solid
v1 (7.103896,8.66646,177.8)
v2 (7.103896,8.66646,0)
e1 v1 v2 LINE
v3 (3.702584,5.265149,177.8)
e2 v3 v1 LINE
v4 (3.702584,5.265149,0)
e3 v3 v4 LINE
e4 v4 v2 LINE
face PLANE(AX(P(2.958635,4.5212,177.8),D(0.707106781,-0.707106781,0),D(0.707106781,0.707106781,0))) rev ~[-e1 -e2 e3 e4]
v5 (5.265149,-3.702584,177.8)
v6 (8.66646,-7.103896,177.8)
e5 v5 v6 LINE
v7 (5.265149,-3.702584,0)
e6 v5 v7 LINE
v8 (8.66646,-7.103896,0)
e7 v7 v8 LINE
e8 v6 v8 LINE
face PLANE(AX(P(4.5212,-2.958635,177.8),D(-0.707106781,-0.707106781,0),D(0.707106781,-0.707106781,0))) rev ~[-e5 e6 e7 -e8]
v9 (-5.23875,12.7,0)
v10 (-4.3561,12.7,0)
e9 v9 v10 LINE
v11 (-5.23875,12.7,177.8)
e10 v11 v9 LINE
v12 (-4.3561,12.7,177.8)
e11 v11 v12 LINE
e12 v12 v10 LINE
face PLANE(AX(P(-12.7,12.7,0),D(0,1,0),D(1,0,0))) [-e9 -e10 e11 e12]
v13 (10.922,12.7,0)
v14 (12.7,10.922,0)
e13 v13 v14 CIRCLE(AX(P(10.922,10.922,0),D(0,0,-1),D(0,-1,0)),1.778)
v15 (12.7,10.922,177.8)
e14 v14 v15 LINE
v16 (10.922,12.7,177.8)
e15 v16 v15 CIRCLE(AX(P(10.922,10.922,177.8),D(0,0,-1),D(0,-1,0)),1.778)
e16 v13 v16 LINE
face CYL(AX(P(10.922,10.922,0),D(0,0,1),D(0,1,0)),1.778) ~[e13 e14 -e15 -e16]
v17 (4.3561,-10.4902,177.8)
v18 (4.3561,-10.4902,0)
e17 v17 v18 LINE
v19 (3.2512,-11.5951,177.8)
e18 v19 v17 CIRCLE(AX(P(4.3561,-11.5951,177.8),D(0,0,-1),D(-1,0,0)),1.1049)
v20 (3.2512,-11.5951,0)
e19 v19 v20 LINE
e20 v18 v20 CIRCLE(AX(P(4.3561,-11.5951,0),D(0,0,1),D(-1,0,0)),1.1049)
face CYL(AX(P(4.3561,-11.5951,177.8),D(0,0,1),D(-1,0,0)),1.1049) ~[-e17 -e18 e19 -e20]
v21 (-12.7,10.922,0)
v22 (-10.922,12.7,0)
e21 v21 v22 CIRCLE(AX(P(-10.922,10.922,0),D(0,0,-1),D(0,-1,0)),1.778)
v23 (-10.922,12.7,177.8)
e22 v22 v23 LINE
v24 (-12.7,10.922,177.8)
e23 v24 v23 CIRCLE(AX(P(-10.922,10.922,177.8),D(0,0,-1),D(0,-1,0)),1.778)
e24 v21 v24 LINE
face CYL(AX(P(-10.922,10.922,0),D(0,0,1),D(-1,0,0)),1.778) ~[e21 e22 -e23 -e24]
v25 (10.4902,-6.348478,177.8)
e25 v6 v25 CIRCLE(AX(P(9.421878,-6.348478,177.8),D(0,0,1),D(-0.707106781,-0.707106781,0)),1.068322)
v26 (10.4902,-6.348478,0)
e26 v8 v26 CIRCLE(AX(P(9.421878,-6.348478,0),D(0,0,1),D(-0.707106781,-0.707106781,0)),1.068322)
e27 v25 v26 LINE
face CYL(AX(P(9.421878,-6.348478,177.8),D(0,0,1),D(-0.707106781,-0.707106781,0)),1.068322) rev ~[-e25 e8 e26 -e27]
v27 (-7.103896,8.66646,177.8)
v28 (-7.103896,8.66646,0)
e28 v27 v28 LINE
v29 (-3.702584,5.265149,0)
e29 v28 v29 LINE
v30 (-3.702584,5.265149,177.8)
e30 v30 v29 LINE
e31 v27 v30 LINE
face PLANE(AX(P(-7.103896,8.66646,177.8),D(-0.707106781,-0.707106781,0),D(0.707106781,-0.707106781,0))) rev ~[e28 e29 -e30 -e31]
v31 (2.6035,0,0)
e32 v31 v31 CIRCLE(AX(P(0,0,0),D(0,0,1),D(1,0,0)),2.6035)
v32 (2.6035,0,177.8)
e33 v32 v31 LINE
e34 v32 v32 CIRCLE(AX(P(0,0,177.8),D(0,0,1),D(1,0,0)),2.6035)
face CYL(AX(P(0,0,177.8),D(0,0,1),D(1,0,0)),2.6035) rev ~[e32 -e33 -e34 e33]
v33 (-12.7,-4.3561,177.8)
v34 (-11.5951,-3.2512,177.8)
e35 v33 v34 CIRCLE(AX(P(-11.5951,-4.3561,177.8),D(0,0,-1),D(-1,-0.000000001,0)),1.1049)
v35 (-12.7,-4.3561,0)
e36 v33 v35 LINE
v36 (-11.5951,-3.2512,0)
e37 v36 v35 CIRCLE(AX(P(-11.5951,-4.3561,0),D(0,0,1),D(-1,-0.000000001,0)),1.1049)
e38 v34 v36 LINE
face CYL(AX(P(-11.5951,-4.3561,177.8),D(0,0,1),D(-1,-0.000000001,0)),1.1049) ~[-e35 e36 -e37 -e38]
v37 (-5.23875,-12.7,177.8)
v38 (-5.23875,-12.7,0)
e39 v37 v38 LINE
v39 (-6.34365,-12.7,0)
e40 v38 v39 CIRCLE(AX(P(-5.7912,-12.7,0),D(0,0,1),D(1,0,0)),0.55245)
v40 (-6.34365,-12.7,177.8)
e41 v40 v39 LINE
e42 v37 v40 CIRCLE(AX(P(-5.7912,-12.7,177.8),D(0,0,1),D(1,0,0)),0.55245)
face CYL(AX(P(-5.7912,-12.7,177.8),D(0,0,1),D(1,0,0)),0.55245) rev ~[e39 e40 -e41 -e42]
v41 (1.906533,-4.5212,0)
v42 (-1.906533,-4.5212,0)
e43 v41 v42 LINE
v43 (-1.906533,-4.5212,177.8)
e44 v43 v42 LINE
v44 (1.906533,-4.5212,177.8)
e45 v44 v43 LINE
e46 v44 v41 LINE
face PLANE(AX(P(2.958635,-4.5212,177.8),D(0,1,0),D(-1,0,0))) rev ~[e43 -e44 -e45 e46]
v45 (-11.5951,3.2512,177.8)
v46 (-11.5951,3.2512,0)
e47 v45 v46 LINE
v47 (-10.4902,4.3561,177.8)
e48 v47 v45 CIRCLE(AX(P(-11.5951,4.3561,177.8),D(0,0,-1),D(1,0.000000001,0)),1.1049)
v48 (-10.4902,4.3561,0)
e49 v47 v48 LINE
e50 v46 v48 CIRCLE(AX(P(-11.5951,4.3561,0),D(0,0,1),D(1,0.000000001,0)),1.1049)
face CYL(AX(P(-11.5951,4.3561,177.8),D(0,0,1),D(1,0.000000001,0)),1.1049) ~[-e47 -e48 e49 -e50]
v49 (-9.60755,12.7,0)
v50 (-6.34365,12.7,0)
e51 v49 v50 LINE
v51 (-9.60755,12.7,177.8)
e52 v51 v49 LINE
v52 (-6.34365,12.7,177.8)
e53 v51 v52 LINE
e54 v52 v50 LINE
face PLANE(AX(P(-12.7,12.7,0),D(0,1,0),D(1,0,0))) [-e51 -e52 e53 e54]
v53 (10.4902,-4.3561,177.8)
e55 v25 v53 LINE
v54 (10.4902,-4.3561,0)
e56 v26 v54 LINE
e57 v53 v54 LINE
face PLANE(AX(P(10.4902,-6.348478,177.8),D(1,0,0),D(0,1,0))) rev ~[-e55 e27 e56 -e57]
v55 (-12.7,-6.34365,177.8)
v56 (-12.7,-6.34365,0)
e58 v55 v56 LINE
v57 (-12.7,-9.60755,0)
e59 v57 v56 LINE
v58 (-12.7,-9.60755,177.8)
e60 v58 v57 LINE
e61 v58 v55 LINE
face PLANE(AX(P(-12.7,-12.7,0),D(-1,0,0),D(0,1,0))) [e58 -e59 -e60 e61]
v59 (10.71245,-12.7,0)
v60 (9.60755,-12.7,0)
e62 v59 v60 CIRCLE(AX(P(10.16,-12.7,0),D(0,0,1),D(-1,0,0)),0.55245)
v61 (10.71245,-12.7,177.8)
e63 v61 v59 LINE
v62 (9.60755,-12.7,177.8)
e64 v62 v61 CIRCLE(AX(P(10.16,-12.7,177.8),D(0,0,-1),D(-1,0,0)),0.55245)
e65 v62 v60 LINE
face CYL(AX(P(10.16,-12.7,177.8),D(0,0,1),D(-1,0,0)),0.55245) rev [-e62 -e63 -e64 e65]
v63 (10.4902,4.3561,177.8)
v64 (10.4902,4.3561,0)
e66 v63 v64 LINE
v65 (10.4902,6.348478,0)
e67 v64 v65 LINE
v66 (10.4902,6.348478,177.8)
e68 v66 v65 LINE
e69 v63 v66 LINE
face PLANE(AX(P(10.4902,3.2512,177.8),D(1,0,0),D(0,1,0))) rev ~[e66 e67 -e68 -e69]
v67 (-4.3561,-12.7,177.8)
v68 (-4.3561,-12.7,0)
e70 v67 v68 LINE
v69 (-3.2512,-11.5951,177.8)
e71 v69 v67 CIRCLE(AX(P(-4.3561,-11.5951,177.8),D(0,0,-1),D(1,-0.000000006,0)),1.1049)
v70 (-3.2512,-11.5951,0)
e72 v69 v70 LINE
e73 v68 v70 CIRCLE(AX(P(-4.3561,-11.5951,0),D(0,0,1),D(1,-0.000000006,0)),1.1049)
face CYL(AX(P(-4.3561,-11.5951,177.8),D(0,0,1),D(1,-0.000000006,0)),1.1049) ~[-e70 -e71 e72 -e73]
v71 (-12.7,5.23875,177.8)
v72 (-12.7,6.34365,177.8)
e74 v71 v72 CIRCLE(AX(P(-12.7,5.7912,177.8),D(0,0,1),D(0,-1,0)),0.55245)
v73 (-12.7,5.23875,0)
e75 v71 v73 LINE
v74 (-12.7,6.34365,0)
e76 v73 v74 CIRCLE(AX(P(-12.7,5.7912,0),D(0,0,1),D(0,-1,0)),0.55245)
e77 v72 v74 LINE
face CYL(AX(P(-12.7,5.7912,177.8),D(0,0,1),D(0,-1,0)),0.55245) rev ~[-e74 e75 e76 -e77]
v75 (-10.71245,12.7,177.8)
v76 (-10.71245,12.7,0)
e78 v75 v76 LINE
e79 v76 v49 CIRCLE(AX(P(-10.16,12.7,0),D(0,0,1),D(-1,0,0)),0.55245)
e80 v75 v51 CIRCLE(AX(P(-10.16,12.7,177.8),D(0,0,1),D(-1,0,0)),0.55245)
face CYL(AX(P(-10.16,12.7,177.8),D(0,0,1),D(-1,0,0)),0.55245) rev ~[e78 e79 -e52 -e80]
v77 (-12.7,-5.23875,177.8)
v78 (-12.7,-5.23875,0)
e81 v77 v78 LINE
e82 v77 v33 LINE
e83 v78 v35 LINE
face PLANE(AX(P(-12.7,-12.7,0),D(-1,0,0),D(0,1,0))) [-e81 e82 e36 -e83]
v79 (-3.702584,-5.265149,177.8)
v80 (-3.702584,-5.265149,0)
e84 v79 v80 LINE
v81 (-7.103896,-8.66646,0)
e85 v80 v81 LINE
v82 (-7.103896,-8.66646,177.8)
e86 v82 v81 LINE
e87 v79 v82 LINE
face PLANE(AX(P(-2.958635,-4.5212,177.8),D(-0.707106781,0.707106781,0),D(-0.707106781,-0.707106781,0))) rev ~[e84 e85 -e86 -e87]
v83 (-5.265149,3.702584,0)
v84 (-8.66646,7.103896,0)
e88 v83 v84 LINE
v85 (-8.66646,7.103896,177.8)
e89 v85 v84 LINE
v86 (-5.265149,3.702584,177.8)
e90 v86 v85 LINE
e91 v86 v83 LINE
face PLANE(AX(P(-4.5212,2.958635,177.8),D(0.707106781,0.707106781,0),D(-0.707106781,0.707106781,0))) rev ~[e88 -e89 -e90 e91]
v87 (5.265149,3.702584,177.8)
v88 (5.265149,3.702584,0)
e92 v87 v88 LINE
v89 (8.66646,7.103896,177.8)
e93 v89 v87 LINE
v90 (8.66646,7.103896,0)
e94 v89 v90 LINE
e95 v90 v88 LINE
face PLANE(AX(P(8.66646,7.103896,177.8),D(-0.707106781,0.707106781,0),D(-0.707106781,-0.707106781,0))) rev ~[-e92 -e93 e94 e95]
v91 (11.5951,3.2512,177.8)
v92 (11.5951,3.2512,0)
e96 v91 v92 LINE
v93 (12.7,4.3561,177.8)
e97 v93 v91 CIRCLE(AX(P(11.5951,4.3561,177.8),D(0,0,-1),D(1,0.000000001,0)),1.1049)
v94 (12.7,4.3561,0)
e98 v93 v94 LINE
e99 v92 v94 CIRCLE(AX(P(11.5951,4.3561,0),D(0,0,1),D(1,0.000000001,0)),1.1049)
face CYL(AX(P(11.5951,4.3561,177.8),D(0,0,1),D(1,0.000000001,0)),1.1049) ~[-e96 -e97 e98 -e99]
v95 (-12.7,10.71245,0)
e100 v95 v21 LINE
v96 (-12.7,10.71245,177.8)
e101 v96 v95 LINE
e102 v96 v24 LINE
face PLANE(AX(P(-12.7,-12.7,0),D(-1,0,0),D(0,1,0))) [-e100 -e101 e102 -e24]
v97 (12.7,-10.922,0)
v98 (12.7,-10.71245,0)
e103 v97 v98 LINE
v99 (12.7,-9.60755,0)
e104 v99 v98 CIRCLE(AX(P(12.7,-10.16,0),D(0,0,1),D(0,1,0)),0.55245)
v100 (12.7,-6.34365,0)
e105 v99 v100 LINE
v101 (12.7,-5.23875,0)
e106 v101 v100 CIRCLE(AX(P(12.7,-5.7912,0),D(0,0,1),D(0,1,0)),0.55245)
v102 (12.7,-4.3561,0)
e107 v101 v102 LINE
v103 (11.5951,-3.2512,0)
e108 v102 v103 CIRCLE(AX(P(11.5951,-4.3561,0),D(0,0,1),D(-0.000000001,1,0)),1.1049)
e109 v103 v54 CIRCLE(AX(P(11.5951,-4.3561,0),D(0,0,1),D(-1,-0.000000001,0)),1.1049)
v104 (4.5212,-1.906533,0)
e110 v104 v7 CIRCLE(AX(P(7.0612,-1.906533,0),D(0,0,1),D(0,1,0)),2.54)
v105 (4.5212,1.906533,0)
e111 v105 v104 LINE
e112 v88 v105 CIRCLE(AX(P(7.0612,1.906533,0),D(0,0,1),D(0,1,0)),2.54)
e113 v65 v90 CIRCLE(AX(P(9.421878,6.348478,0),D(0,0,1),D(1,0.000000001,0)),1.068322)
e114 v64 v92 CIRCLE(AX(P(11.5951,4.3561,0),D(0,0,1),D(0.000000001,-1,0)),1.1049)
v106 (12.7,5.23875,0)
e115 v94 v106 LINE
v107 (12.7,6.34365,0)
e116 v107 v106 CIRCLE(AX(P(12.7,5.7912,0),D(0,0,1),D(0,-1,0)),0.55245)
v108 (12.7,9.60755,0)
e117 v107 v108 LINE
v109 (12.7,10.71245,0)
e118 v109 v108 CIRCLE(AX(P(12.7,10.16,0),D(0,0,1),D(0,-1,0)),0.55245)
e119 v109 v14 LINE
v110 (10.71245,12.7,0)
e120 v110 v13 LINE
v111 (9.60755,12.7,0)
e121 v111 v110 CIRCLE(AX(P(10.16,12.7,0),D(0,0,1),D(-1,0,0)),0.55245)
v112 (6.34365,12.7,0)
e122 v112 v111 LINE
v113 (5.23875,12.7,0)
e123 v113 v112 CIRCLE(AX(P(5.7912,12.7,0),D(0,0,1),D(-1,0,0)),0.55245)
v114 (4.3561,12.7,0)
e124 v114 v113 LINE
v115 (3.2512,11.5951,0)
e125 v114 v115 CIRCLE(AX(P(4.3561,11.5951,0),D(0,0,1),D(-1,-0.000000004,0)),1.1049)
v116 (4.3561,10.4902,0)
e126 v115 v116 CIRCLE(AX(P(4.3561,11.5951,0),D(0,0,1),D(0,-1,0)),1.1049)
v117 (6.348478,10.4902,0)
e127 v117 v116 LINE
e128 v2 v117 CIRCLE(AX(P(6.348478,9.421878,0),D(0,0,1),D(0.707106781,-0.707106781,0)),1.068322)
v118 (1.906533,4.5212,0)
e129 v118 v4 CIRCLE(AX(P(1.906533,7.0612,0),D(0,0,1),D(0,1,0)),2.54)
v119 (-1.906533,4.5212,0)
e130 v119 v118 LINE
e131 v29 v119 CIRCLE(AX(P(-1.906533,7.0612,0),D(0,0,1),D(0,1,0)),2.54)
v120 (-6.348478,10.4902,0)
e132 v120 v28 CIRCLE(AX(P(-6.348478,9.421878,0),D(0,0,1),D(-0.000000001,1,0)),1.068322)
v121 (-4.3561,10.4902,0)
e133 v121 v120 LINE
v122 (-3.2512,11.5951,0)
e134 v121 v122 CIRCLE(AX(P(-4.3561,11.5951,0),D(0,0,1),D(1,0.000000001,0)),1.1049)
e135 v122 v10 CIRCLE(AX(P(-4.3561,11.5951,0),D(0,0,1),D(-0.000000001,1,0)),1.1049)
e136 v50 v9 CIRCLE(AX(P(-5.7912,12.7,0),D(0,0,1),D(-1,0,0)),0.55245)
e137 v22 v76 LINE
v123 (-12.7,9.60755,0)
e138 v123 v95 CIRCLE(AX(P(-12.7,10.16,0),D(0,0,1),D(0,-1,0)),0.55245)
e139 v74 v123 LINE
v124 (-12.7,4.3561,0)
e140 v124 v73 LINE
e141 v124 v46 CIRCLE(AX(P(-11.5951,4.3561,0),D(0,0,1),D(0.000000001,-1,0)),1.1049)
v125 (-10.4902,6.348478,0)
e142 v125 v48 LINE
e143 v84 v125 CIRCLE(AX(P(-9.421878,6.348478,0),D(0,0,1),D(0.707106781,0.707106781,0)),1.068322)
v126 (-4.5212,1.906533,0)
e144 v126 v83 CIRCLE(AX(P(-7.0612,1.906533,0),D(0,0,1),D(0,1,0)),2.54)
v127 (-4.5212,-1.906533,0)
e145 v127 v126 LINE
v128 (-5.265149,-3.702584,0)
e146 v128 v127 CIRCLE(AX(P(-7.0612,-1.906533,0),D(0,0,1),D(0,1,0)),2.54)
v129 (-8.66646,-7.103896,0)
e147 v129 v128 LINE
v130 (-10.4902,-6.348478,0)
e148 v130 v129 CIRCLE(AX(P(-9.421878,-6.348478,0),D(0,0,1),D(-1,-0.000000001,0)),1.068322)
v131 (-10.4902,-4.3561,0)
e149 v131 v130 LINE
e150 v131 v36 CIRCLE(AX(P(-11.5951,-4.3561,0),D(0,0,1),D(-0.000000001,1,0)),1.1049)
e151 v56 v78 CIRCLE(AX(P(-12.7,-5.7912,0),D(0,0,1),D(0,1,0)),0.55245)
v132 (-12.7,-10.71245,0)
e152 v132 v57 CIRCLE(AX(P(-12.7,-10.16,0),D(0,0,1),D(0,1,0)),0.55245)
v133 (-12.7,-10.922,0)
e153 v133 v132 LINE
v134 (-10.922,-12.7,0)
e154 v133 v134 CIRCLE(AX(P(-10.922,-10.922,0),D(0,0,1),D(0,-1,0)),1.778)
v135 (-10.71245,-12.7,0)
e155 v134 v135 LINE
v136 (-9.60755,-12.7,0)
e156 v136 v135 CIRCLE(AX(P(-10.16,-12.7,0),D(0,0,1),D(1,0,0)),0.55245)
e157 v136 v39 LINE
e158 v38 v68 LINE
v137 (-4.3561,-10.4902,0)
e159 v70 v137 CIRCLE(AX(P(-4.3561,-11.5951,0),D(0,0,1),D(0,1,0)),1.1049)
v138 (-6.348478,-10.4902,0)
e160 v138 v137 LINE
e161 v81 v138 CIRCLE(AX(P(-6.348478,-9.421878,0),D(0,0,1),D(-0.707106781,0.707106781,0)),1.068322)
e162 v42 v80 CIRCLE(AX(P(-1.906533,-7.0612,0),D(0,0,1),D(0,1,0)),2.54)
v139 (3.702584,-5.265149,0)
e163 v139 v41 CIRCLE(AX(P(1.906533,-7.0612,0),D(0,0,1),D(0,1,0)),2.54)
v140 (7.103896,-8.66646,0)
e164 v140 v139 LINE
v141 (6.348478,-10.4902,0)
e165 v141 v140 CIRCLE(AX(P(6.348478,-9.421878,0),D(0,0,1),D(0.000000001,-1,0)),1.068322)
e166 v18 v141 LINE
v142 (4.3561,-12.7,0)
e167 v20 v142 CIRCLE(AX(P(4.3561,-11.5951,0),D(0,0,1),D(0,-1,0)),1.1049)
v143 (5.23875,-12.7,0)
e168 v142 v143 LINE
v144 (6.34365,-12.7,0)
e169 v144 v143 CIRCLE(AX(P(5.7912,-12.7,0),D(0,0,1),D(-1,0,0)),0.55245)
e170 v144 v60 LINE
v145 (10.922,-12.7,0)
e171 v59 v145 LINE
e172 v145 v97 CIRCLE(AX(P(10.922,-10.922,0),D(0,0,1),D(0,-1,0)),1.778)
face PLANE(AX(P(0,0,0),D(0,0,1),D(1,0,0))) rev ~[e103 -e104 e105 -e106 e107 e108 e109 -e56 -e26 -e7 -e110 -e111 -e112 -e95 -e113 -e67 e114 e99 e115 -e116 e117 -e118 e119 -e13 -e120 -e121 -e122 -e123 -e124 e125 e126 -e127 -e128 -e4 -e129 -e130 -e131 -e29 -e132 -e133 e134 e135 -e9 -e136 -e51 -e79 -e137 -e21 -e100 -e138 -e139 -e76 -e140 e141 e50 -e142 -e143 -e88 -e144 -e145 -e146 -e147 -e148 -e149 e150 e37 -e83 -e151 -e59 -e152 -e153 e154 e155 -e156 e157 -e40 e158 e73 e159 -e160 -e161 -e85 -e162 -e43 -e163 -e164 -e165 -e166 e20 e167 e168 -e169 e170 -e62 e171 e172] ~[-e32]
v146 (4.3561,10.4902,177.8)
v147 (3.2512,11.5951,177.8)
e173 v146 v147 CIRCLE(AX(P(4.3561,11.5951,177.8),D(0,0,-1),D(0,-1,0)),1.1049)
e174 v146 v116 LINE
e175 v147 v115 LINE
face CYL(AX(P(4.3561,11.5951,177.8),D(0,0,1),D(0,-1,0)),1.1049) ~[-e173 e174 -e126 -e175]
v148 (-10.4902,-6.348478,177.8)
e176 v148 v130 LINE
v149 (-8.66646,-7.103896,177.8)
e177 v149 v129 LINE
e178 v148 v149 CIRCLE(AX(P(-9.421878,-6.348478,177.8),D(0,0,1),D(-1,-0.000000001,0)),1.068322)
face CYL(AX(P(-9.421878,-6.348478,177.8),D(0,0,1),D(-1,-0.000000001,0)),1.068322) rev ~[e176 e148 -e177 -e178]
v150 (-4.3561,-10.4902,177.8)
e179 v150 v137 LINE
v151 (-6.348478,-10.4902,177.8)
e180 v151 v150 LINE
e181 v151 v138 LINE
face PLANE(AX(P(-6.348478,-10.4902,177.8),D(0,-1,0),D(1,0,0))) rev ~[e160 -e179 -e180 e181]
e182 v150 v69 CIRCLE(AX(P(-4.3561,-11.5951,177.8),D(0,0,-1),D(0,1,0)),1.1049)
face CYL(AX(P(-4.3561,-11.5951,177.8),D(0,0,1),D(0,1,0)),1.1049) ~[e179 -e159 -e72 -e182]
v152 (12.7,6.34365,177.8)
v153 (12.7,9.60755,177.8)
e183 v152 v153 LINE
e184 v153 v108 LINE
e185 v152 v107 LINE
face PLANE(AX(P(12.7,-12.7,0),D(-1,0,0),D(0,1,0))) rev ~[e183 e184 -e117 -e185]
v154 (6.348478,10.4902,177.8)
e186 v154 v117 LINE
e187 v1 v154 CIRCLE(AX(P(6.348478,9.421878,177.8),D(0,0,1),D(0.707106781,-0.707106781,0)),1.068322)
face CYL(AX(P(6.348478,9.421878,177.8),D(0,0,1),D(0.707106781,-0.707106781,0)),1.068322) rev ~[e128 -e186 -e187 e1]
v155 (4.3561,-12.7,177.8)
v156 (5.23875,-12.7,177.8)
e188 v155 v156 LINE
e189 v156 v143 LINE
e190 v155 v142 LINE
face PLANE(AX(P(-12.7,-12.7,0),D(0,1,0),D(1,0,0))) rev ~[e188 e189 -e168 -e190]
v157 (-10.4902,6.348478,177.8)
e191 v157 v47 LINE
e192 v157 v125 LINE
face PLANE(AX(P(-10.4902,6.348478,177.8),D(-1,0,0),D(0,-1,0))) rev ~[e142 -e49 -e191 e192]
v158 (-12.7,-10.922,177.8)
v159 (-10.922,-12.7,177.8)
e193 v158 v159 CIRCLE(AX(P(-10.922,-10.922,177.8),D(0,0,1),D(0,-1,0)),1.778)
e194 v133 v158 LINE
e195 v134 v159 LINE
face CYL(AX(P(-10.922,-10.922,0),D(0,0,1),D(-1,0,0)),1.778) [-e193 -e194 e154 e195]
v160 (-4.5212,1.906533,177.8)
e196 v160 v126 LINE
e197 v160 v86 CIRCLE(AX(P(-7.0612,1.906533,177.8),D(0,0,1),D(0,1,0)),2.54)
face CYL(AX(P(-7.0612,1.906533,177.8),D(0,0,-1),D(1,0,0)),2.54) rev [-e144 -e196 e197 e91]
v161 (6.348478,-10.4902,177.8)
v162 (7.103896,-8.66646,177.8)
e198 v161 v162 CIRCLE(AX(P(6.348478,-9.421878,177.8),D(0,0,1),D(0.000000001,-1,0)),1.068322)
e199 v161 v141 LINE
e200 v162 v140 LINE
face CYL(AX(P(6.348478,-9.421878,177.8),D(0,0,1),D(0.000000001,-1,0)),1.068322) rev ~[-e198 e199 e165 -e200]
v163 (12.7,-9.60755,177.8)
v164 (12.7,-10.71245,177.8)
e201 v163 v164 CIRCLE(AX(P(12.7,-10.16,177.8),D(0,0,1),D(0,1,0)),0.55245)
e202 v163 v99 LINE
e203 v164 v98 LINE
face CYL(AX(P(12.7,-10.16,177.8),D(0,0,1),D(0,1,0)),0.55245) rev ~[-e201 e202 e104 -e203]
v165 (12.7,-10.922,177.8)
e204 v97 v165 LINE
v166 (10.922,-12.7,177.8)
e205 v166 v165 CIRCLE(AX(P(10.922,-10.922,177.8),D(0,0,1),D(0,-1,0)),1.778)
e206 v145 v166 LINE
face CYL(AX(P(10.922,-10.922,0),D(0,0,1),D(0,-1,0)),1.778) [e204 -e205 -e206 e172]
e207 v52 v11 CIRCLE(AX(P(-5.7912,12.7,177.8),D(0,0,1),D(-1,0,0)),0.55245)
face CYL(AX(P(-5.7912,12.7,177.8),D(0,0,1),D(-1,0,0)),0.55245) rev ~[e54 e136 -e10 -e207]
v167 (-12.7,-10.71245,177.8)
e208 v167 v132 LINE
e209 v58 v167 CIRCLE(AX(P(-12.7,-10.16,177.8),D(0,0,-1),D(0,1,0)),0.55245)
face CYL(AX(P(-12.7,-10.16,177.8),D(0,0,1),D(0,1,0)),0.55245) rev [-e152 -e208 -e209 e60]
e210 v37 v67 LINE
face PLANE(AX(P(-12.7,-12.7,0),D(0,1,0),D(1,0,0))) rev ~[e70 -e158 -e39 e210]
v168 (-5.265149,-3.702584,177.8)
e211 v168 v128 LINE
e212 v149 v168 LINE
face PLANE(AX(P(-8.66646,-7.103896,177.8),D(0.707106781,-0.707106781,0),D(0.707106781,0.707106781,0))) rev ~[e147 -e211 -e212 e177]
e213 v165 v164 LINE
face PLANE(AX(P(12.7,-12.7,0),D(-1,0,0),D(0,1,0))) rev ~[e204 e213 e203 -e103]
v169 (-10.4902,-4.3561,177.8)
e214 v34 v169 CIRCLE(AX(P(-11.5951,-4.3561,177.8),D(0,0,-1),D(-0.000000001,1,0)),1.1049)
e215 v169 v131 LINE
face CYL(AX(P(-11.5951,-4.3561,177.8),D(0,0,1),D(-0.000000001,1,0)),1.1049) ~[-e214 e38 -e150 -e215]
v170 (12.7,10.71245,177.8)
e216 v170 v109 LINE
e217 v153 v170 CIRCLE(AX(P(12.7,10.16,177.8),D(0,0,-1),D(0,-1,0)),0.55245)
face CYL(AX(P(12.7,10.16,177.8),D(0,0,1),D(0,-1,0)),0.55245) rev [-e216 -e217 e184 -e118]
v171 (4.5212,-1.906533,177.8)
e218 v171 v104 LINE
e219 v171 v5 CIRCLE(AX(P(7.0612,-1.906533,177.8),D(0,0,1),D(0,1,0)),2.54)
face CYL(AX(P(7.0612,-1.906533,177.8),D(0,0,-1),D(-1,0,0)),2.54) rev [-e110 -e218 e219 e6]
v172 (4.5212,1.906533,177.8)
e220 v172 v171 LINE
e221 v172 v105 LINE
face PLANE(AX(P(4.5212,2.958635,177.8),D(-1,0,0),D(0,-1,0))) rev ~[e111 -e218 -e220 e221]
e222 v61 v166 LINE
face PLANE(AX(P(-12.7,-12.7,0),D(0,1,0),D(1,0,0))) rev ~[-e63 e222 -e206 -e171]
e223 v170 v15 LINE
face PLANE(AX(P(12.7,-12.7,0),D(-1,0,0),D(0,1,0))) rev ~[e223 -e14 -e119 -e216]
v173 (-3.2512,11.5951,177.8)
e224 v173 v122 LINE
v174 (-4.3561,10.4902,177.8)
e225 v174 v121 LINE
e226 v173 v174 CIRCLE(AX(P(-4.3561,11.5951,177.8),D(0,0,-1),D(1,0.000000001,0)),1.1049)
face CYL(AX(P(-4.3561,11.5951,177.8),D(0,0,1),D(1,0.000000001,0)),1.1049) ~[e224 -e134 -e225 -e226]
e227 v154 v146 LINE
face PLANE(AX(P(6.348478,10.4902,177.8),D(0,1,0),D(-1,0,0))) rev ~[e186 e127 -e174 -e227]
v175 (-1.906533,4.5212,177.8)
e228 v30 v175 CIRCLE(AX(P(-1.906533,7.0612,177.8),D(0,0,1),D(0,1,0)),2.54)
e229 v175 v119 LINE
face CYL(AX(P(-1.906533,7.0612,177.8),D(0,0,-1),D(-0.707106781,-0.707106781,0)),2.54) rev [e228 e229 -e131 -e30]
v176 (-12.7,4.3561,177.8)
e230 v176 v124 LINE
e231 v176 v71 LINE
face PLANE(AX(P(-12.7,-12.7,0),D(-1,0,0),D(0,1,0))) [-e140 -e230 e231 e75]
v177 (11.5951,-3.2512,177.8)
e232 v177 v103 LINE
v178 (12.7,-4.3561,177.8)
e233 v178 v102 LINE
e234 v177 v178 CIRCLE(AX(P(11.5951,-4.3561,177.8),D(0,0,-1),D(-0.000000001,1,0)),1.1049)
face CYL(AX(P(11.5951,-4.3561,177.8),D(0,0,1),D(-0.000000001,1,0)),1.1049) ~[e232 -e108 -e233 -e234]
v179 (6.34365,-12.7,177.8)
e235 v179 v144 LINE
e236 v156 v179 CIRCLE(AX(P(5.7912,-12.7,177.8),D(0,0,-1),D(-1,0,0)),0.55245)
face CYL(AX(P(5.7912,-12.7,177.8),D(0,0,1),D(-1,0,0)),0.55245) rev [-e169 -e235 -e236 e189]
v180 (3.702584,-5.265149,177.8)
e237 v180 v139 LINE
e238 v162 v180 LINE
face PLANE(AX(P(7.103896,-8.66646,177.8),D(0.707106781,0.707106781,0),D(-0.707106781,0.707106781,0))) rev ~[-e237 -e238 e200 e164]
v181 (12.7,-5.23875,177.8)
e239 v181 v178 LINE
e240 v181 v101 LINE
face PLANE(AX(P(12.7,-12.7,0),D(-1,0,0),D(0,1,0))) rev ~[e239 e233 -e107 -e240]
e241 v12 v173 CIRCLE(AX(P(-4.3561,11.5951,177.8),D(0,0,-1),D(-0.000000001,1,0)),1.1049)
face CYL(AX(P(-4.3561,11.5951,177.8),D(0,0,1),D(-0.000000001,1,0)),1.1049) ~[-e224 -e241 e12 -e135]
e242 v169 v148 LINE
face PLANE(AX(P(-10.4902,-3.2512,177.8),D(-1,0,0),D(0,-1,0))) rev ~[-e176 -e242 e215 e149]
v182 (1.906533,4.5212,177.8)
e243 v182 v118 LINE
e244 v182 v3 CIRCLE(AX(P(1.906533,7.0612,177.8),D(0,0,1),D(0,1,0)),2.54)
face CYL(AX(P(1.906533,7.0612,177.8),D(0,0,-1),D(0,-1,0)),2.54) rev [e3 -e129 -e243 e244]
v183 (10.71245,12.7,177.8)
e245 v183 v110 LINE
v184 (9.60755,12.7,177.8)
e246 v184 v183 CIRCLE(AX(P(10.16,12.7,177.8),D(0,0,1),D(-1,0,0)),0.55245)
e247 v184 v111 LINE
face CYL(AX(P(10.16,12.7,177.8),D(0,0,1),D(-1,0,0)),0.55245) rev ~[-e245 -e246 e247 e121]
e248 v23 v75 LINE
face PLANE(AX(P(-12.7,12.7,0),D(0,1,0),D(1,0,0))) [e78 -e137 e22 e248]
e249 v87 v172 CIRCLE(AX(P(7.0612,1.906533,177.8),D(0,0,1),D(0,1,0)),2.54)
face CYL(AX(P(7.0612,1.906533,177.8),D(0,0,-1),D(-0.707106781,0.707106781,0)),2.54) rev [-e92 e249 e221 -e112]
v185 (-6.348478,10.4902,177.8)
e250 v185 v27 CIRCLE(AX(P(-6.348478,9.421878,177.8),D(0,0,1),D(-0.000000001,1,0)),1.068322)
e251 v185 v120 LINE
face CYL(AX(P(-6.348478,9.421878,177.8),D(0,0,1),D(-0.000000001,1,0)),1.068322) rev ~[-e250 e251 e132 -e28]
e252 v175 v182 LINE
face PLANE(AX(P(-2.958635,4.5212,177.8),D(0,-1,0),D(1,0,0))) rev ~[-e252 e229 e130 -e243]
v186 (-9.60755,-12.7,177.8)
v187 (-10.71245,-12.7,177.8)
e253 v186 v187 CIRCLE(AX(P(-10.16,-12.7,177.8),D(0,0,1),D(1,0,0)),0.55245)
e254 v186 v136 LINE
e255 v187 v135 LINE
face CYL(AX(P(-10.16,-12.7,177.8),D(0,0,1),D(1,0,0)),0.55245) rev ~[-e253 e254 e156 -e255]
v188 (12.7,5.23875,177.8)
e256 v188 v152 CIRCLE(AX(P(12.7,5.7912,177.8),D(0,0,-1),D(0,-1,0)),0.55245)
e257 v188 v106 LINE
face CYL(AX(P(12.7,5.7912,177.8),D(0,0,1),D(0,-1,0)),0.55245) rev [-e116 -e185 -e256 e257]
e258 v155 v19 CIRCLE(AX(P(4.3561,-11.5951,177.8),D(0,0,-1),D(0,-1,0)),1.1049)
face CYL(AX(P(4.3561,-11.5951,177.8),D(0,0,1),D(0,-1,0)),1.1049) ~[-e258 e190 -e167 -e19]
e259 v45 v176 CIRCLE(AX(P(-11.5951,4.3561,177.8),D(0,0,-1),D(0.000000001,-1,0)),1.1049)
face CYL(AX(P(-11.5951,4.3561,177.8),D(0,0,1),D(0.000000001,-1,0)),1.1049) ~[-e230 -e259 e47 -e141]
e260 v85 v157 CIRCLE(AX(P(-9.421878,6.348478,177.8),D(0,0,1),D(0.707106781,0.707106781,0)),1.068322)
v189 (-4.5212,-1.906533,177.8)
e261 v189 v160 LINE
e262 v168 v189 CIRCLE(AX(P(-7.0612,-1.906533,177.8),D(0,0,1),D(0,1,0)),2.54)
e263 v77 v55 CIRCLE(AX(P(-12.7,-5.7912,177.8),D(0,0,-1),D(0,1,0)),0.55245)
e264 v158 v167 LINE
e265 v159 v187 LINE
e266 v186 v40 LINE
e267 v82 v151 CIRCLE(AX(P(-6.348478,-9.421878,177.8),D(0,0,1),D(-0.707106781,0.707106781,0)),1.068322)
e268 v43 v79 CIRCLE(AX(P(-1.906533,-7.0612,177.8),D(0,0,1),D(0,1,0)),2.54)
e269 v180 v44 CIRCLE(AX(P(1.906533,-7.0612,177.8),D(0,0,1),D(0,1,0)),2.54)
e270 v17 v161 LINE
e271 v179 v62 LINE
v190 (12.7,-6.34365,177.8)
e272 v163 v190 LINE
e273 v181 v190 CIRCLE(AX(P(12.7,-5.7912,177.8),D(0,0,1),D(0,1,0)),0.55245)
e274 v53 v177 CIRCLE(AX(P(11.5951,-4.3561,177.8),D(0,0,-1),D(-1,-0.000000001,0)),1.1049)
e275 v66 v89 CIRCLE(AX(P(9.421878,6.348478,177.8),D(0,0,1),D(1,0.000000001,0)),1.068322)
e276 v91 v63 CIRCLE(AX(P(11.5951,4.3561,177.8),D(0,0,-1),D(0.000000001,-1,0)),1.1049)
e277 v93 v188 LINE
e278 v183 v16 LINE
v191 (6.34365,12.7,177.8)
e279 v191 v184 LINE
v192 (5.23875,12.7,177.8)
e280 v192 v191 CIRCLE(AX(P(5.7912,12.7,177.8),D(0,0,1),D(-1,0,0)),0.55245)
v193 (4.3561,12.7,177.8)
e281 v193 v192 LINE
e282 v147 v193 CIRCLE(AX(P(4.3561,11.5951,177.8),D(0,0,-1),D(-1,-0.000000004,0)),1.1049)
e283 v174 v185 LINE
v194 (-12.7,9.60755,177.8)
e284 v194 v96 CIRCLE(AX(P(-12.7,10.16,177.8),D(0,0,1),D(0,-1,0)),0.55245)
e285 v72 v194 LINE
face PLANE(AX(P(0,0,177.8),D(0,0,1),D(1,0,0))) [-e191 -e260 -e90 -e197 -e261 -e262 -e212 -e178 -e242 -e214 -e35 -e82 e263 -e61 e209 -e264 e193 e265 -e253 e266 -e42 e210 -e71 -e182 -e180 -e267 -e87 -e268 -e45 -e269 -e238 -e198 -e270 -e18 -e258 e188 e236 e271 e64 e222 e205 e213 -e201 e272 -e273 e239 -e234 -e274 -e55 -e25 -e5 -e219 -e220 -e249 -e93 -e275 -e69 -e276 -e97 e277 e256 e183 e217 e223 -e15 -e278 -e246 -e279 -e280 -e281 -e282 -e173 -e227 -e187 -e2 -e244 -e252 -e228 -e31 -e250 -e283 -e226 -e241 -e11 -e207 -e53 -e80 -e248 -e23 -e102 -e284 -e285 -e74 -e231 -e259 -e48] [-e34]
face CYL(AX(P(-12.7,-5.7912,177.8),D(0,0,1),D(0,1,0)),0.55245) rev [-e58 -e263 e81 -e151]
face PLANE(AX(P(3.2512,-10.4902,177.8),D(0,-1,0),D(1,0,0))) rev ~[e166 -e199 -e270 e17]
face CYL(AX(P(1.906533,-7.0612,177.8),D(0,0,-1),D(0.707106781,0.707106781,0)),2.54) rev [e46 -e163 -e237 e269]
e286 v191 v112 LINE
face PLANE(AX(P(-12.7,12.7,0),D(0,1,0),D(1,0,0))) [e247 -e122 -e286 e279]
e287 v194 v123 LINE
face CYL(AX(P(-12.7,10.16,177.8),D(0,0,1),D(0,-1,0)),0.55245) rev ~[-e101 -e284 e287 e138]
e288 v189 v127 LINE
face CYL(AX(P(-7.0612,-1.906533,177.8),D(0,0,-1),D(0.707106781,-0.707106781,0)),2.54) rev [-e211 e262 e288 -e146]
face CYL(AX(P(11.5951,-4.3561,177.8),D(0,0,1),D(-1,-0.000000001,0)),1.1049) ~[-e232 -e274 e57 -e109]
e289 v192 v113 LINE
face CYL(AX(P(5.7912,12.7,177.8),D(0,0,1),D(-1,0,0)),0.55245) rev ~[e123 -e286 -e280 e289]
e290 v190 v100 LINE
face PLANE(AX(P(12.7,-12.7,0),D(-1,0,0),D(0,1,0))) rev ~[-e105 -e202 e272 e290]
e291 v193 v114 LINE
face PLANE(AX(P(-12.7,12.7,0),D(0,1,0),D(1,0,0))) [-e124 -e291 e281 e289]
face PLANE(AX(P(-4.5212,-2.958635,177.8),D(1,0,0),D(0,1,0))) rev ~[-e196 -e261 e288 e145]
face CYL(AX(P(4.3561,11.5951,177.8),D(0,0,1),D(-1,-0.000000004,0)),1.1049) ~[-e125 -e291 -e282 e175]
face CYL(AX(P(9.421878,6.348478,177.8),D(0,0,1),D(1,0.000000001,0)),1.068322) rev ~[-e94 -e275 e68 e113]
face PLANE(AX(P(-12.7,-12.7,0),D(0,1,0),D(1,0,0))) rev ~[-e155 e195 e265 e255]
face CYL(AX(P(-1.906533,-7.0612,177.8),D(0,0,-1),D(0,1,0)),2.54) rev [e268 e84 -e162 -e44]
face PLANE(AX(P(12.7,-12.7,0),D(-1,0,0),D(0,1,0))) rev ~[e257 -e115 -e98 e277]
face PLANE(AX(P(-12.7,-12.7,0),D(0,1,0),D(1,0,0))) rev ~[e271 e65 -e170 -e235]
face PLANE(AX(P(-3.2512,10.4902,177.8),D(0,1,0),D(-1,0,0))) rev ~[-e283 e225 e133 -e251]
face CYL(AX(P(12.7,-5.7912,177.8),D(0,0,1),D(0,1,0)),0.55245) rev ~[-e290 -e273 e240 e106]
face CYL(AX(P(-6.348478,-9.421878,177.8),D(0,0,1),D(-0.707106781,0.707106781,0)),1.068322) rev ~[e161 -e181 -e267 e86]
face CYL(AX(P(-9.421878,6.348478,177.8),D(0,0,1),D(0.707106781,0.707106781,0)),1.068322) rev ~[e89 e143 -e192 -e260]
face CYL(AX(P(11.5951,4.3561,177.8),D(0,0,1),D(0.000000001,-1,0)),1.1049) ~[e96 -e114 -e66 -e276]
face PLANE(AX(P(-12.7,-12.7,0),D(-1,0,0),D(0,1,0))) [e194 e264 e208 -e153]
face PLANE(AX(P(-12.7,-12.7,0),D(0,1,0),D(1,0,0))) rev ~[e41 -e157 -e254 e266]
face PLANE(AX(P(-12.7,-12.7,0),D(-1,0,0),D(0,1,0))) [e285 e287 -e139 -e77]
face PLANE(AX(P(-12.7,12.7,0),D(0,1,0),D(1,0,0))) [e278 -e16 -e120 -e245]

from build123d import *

# Parameters (mm, degrees)
SKETCH3_W           = 25.4
SKETCH3_H           = 25.4
BOSS_EXTRUDE1_DEPTH = 177.8
SKETCH4_R           = 2.6035
CUT_EXTRUDE1_DEPTH  = 179.704840449
CUT_EXTRUDE2_DEPTH  = 179.704840449
FILLET1_R           = 2.54
FILLET2_R           = 1.778


with BuildPart() as part:
    # Sketch3 → Boss-Extrude1 (new body)
    with BuildSketch(Plane.XY):
        Rectangle(SKETCH3_W, SKETCH3_H)
    extrude(amount=BOSS_EXTRUDE1_DEPTH)

    # Sketch4 → Cut-Extrude1 (cut, through all)
    with BuildSketch(Plane.XY.offset(177.8)):
        with BuildLine():
            Line((3.2512, 12.7), (-3.2512, 12.7))
            Line((-3.2512, 12.7), (-3.2512, 10.4902))
            Line((-3.2512, 10.4902), (-6.348478019, 10.4902))
            ThreePointArc((-6.348478019, 10.4902), (-7.335478831, 9.830707141), (-7.103895736, 8.666460301))
            Line((-7.103895736, 8.666460301), (-2.958635435, 4.5212))
            Line((-2.958635435, 4.5212), (2.958635435, 4.5212))
            Line((2.958635435, 4.5212), (7.103895736, 8.666460301))
            ThreePointArc((7.103895736, 8.666460301), (7.335478831, 9.830707141), (6.348478019, 10.4902))
            Line((6.348478019, 10.4902), (3.2512, 10.4902))
            Line((3.2512, 10.4902), (3.2512, 12.7))
        make_face()
        with BuildLine():
            Line((12.7, -3.2512), (12.7, 3.2512))
            Line((12.7, 3.2512), (10.4902, 3.2512))
            Line((10.4902, 3.2512), (10.4902, 6.348478019))
            ThreePointArc((10.4902, 6.348478019), (9.830707141, 7.335478831), (8.666460301, 7.103895736))
            Line((8.666460301, 7.103895736), (4.5212, 2.958635435))
            Line((4.5212, 2.958635435), (4.5212, -2.958635435))
            Line((4.5212, -2.958635435), (8.666460301, -7.103895736))
            ThreePointArc((8.666460301, -7.103895736), (9.830707141, -7.335478831), (10.4902, -6.348478019))
            Line((10.4902, -6.348478019), (10.4902, -3.2512))
            Line((10.4902, -3.2512), (12.7, -3.2512))
        make_face()
        with BuildLine():
            Line((-3.2512, -10.4902), (-3.2512, -12.7))
            Line((-3.2512, -12.7), (3.2512, -12.7))
            Line((3.2512, -12.7), (3.2512, -10.4902))
            Line((3.2512, -10.4902), (6.348478019, -10.4902))
            ThreePointArc((6.348478019, -10.4902), (7.335478831, -9.830707141), (7.103895736, -8.666460301))
            Line((7.103895736, -8.666460301), (2.958635435, -4.5212))
            Line((2.958635435, -4.5212), (-2.958635435, -4.5212))
            Line((-2.958635435, -4.5212), (-7.103895736, -8.666460301))
            ThreePointArc((-7.103895736, -8.666460301), (-7.335478831, -9.830707141), (-6.348478019, -10.4902))
            Line((-6.348478019, -10.4902), (-3.2512, -10.4902))
        make_face()
        with BuildLine():
            Line((-10.4902, 3.2512), (-12.7, 3.2512))
            Line((-12.7, 3.2512), (-12.7, -3.2512))
            Line((-12.7, -3.2512), (-10.4902, -3.2512))
            Line((-10.4902, -3.2512), (-10.4902, -6.348478019))
            ThreePointArc((-10.4902, -6.348478019), (-9.830707141, -7.335478831), (-8.666460301, -7.103895736))
            Line((-8.666460301, -7.103895736), (-4.5212, -2.958635435))
            Line((-4.5212, -2.958635435), (-4.5212, 2.958635435))
            Line((-4.5212, 2.958635435), (-8.666460301, 7.103895736))
            ThreePointArc((-8.666460301, 7.103895736), (-9.830707141, 7.335478831), (-10.4902, 6.348478019))
            Line((-10.4902, 6.348478019), (-10.4902, 3.2512))
        make_face()
        Circle(SKETCH4_R)
    extrude(amount=-CUT_EXTRUDE1_DEPTH, mode=Mode.SUBTRACT)

    # Sketch5 → Cut-Extrude2 (cut, through all)
    with BuildSketch(Plane.XY.offset(177.8)):
        with BuildLine():
            ThreePointArc((-11.5951, 3.2512), (-12.376382283, 3.574817717), (-12.7, 4.3561))
            Line((-12.7, 4.3561), (-12.7, 3.2512))
            Line((-12.7, 3.2512), (-11.5951, 3.2512))
        make_face()
        with BuildLine():
            ThreePointArc((-10.4902, 4.3561), (-10.813817717, 3.574817717), (-11.5951, 3.2512))
            Line((-11.5951, 3.2512), (-10.4902, 3.2512))
            Line((-10.4902, 3.2512), (-10.4902, 4.3561))
        make_face()
        with BuildLine():
            Line((-12.7, -3.2512), (-12.7, -4.3561))
            ThreePointArc((-12.7, -4.3561), (-12.376382283, -3.574817717), (-11.5951, -3.2512))
            Line((-11.5951, -3.2512), (-12.7, -3.2512))
        make_face()
        with BuildLine():
            Line((-10.4902, -3.2512), (-11.5951, -3.2512))
            ThreePointArc((-11.5951, -3.2512), (-10.813817717, -3.574817717), (-10.4902, -4.3561))
            Line((-10.4902, -4.3561), (-10.4902, -3.2512))
        make_face()
        with BuildLine():
            Line((-3.2512, -11.595100007), (-3.2512, -10.4902))
            Line((-3.2512, -10.4902), (-4.3561, -10.4902))
            ThreePointArc((-4.3561, -10.4902), (-3.574817715, -10.81381772), (-3.2512, -11.595100007))
        make_face()
        with BuildLine():
            Line((-3.2512, -12.7), (-3.2512, -11.595100007))
            ThreePointArc((-3.2512, -11.595100007), (-3.57481772, -12.376382285), (-4.3561, -12.7))
            Line((-4.3561, -12.7), (-3.2512, -12.7))
        make_face()
        with BuildLine():
            Line((3.2512, -10.4902), (3.2512, -11.5951))
            ThreePointArc((3.2512, -11.5951), (3.574817718, -10.813817717), (4.3561, -10.4902))
            Line((4.3561, -10.4902), (3.2512, -10.4902))
        make_face()
        with BuildLine():
            Line((3.2512, -12.7), (4.3561, -12.7))
            ThreePointArc((4.3561, -12.7), (3.574817717, -12.376382282), (3.2512, -11.5951))
            Line((3.2512, -11.5951), (3.2512, -12.7))
        make_face()
        with BuildLine():
            Line((11.5951, -3.2512), (10.4902, -3.2512))
            Line((10.4902, -3.2512), (10.4902, -4.3561))
            ThreePointArc((10.4902, -4.3561), (10.813817717, -3.574817717), (11.5951, -3.2512))
        make_face()
        with BuildLine():
            Line((12.7, -3.2512), (11.5951, -3.2512))
            ThreePointArc((11.5951, -3.2512), (12.376382283, -3.574817717), (12.7, -4.3561))
            Line((12.7, -4.3561), (12.7, -3.2512))
        make_face()
        with BuildLine():
            Line((10.4902, 3.2512), (11.5951, 3.2512))
            ThreePointArc((11.5951, 3.2512), (10.813817717, 3.574817717), (10.4902, 4.3561))
            Line((10.4902, 4.3561), (10.4902, 3.2512))
        make_face()
        with BuildLine():
            Line((12.7, 3.2512), (12.7, 4.3561))
            ThreePointArc((12.7, 4.3561), (12.376382283, 3.574817717), (11.5951, 3.2512))
            Line((11.5951, 3.2512), (12.7, 3.2512))
        make_face()
        with BuildLine():
            Line((3.2512, 12.7), (3.2512, 11.595099996))
            ThreePointArc((3.2512, 11.595099996), (3.574817716, 12.376382281), (4.3561, 12.7))
            Line((4.3561, 12.7), (3.2512, 12.7))
        make_face()
        with BuildLine():
            Line((3.2512, 11.595099996), (3.2512, 10.4902))
            Line((3.2512, 10.4902), (4.3561, 10.4902))
            ThreePointArc((4.3561, 10.4902), (3.574817719, 10.813817716), (3.2512, 11.595099996))
        make_face()
        with BuildLine():
            Line((-3.2512, 12.7), (-4.3561, 12.7))
            ThreePointArc((-4.3561, 12.7), (-3.574817717, 12.376382283), (-3.2512, 11.5951))
            Line((-3.2512, 11.5951), (-3.2512, 12.7))
        make_face()
        with BuildLine():
            Line((-3.2512, 10.4902), (-3.2512, 11.5951))
            ThreePointArc((-3.2512, 11.5951), (-3.574817717, 10.813817717), (-4.3561, 10.4902))
            Line((-4.3561, 10.4902), (-3.2512, 10.4902))
        make_face()
        with BuildLine():
            ThreePointArc((-12.7, 5.23875), (-12.14755, 5.7912), (-12.7, 6.34365))
            Line((-12.7, 6.34365), (-12.7, 5.23875))
        make_face()
        with BuildLine():
            ThreePointArc((-12.7, 9.60755), (-12.14755, 10.16), (-12.7, 10.71245))
            Line((-12.7, 10.71245), (-12.7, 9.60755))
        make_face()
        with BuildLine():
            ThreePointArc((-10.71245, 12.7), (-10.16, 12.14755), (-9.60755, 12.7))
            Line((-9.60755, 12.7), (-10.71245, 12.7))
        make_face()
        with BuildLine():
            ThreePointArc((-6.34365, 12.7), (-5.7912, 12.14755), (-5.23875, 12.7))
            Line((-5.23875, 12.7), (-6.34365, 12.7))
        make_face()
        with BuildLine():
            Line((6.34365, 12.7), (5.23875, 12.7))
            ThreePointArc((5.23875, 12.7), (5.7912, 12.14755), (6.34365, 12.7))
        make_face()
        with BuildLine():
            Line((10.71245, 12.7), (9.60755, 12.7))
            ThreePointArc((9.60755, 12.7), (10.16, 12.14755), (10.71245, 12.7))
        make_face()
        with BuildLine():
            Line((12.7, 10.71245), (12.7, 9.60755))
            ThreePointArc((12.7, 9.60755), (12.14755, 10.16), (12.7, 10.71245))
        make_face()
        with BuildLine():
            Line((12.7, 6.34365), (12.7, 5.23875))
            ThreePointArc((12.7, 5.23875), (12.14755, 5.7912), (12.7, 6.34365))
        make_face()
        with BuildLine():
            Line((-12.7, -6.34365), (-12.7, -5.23875))
            ThreePointArc((-12.7, -5.23875), (-12.14755, -5.7912), (-12.7, -6.34365))
        make_face()
        with BuildLine():
            Line((-12.7, -10.71245), (-12.7, -9.60755))
            ThreePointArc((-12.7, -9.60755), (-12.14755, -10.16), (-12.7, -10.71245))
        make_face()
        with BuildLine():
            Line((-10.71245, -12.7), (-9.60755, -12.7))
            ThreePointArc((-9.60755, -12.7), (-10.16, -12.14755), (-10.71245, -12.7))
        make_face()
        with BuildLine():
            Line((-6.34365, -12.7), (-5.23875, -12.7))
            ThreePointArc((-5.23875, -12.7), (-5.7912, -12.14755), (-6.34365, -12.7))
        make_face()
        with BuildLine():
            Line((12.7, -10.71245), (12.7, -9.60755))
            ThreePointArc((12.7, -9.60755), (12.14755, -10.16), (12.7, -10.71245))
        make_face()
        with BuildLine():
            Line((12.7, -6.34365), (12.7, -5.23875))
            ThreePointArc((12.7, -5.23875), (12.14755, -5.7912), (12.7, -6.34365))
        make_face()
        with BuildLine():
            Line((10.71245, -12.7), (9.60755, -12.7))
            ThreePointArc((9.60755, -12.7), (10.16, -12.14755), (10.71245, -12.7))
        make_face()
        with BuildLine():
            Line((6.34365, -12.7), (5.23875, -12.7))
            ThreePointArc((5.23875, -12.7), (5.7912, -12.14755), (6.34365, -12.7))
        make_face()
    extrude(amount=-CUT_EXTRUDE2_DEPTH, mode=Mode.SUBTRACT)

    # Fillet1
    fillet1_edges = [part.edges().sort_by_distance(p)[0] for p in [
        (-2.958635435, -4.5212, 88.9),
        (2.958635435, -4.5212, 88.9),
        (4.5212, -2.958635435, 88.9),
        (4.5212, 2.958635435, 88.9),
        (-4.5212, 2.958635435, 88.9),
        (-4.5212, -2.958635435, 88.9),
        (2.958635435, 4.5212, 88.9),
        (-2.958635435, 4.5212, 88.9),
    ]]
    fillet(fillet1_edges, radius=FILLET1_R)

    # Fillet2
    fillet2_edges = [part.edges().sort_by_distance(p)[0] for p in [
        (-12.7, 12.7, 88.9),
        (12.7, 12.7, 88.9),
        (12.7, -12.7, 88.9),
        (-12.7, -12.7, 88.9),
    ]]
    fillet(fillet2_edges, radius=FILLET2_R)


solid = part.part
